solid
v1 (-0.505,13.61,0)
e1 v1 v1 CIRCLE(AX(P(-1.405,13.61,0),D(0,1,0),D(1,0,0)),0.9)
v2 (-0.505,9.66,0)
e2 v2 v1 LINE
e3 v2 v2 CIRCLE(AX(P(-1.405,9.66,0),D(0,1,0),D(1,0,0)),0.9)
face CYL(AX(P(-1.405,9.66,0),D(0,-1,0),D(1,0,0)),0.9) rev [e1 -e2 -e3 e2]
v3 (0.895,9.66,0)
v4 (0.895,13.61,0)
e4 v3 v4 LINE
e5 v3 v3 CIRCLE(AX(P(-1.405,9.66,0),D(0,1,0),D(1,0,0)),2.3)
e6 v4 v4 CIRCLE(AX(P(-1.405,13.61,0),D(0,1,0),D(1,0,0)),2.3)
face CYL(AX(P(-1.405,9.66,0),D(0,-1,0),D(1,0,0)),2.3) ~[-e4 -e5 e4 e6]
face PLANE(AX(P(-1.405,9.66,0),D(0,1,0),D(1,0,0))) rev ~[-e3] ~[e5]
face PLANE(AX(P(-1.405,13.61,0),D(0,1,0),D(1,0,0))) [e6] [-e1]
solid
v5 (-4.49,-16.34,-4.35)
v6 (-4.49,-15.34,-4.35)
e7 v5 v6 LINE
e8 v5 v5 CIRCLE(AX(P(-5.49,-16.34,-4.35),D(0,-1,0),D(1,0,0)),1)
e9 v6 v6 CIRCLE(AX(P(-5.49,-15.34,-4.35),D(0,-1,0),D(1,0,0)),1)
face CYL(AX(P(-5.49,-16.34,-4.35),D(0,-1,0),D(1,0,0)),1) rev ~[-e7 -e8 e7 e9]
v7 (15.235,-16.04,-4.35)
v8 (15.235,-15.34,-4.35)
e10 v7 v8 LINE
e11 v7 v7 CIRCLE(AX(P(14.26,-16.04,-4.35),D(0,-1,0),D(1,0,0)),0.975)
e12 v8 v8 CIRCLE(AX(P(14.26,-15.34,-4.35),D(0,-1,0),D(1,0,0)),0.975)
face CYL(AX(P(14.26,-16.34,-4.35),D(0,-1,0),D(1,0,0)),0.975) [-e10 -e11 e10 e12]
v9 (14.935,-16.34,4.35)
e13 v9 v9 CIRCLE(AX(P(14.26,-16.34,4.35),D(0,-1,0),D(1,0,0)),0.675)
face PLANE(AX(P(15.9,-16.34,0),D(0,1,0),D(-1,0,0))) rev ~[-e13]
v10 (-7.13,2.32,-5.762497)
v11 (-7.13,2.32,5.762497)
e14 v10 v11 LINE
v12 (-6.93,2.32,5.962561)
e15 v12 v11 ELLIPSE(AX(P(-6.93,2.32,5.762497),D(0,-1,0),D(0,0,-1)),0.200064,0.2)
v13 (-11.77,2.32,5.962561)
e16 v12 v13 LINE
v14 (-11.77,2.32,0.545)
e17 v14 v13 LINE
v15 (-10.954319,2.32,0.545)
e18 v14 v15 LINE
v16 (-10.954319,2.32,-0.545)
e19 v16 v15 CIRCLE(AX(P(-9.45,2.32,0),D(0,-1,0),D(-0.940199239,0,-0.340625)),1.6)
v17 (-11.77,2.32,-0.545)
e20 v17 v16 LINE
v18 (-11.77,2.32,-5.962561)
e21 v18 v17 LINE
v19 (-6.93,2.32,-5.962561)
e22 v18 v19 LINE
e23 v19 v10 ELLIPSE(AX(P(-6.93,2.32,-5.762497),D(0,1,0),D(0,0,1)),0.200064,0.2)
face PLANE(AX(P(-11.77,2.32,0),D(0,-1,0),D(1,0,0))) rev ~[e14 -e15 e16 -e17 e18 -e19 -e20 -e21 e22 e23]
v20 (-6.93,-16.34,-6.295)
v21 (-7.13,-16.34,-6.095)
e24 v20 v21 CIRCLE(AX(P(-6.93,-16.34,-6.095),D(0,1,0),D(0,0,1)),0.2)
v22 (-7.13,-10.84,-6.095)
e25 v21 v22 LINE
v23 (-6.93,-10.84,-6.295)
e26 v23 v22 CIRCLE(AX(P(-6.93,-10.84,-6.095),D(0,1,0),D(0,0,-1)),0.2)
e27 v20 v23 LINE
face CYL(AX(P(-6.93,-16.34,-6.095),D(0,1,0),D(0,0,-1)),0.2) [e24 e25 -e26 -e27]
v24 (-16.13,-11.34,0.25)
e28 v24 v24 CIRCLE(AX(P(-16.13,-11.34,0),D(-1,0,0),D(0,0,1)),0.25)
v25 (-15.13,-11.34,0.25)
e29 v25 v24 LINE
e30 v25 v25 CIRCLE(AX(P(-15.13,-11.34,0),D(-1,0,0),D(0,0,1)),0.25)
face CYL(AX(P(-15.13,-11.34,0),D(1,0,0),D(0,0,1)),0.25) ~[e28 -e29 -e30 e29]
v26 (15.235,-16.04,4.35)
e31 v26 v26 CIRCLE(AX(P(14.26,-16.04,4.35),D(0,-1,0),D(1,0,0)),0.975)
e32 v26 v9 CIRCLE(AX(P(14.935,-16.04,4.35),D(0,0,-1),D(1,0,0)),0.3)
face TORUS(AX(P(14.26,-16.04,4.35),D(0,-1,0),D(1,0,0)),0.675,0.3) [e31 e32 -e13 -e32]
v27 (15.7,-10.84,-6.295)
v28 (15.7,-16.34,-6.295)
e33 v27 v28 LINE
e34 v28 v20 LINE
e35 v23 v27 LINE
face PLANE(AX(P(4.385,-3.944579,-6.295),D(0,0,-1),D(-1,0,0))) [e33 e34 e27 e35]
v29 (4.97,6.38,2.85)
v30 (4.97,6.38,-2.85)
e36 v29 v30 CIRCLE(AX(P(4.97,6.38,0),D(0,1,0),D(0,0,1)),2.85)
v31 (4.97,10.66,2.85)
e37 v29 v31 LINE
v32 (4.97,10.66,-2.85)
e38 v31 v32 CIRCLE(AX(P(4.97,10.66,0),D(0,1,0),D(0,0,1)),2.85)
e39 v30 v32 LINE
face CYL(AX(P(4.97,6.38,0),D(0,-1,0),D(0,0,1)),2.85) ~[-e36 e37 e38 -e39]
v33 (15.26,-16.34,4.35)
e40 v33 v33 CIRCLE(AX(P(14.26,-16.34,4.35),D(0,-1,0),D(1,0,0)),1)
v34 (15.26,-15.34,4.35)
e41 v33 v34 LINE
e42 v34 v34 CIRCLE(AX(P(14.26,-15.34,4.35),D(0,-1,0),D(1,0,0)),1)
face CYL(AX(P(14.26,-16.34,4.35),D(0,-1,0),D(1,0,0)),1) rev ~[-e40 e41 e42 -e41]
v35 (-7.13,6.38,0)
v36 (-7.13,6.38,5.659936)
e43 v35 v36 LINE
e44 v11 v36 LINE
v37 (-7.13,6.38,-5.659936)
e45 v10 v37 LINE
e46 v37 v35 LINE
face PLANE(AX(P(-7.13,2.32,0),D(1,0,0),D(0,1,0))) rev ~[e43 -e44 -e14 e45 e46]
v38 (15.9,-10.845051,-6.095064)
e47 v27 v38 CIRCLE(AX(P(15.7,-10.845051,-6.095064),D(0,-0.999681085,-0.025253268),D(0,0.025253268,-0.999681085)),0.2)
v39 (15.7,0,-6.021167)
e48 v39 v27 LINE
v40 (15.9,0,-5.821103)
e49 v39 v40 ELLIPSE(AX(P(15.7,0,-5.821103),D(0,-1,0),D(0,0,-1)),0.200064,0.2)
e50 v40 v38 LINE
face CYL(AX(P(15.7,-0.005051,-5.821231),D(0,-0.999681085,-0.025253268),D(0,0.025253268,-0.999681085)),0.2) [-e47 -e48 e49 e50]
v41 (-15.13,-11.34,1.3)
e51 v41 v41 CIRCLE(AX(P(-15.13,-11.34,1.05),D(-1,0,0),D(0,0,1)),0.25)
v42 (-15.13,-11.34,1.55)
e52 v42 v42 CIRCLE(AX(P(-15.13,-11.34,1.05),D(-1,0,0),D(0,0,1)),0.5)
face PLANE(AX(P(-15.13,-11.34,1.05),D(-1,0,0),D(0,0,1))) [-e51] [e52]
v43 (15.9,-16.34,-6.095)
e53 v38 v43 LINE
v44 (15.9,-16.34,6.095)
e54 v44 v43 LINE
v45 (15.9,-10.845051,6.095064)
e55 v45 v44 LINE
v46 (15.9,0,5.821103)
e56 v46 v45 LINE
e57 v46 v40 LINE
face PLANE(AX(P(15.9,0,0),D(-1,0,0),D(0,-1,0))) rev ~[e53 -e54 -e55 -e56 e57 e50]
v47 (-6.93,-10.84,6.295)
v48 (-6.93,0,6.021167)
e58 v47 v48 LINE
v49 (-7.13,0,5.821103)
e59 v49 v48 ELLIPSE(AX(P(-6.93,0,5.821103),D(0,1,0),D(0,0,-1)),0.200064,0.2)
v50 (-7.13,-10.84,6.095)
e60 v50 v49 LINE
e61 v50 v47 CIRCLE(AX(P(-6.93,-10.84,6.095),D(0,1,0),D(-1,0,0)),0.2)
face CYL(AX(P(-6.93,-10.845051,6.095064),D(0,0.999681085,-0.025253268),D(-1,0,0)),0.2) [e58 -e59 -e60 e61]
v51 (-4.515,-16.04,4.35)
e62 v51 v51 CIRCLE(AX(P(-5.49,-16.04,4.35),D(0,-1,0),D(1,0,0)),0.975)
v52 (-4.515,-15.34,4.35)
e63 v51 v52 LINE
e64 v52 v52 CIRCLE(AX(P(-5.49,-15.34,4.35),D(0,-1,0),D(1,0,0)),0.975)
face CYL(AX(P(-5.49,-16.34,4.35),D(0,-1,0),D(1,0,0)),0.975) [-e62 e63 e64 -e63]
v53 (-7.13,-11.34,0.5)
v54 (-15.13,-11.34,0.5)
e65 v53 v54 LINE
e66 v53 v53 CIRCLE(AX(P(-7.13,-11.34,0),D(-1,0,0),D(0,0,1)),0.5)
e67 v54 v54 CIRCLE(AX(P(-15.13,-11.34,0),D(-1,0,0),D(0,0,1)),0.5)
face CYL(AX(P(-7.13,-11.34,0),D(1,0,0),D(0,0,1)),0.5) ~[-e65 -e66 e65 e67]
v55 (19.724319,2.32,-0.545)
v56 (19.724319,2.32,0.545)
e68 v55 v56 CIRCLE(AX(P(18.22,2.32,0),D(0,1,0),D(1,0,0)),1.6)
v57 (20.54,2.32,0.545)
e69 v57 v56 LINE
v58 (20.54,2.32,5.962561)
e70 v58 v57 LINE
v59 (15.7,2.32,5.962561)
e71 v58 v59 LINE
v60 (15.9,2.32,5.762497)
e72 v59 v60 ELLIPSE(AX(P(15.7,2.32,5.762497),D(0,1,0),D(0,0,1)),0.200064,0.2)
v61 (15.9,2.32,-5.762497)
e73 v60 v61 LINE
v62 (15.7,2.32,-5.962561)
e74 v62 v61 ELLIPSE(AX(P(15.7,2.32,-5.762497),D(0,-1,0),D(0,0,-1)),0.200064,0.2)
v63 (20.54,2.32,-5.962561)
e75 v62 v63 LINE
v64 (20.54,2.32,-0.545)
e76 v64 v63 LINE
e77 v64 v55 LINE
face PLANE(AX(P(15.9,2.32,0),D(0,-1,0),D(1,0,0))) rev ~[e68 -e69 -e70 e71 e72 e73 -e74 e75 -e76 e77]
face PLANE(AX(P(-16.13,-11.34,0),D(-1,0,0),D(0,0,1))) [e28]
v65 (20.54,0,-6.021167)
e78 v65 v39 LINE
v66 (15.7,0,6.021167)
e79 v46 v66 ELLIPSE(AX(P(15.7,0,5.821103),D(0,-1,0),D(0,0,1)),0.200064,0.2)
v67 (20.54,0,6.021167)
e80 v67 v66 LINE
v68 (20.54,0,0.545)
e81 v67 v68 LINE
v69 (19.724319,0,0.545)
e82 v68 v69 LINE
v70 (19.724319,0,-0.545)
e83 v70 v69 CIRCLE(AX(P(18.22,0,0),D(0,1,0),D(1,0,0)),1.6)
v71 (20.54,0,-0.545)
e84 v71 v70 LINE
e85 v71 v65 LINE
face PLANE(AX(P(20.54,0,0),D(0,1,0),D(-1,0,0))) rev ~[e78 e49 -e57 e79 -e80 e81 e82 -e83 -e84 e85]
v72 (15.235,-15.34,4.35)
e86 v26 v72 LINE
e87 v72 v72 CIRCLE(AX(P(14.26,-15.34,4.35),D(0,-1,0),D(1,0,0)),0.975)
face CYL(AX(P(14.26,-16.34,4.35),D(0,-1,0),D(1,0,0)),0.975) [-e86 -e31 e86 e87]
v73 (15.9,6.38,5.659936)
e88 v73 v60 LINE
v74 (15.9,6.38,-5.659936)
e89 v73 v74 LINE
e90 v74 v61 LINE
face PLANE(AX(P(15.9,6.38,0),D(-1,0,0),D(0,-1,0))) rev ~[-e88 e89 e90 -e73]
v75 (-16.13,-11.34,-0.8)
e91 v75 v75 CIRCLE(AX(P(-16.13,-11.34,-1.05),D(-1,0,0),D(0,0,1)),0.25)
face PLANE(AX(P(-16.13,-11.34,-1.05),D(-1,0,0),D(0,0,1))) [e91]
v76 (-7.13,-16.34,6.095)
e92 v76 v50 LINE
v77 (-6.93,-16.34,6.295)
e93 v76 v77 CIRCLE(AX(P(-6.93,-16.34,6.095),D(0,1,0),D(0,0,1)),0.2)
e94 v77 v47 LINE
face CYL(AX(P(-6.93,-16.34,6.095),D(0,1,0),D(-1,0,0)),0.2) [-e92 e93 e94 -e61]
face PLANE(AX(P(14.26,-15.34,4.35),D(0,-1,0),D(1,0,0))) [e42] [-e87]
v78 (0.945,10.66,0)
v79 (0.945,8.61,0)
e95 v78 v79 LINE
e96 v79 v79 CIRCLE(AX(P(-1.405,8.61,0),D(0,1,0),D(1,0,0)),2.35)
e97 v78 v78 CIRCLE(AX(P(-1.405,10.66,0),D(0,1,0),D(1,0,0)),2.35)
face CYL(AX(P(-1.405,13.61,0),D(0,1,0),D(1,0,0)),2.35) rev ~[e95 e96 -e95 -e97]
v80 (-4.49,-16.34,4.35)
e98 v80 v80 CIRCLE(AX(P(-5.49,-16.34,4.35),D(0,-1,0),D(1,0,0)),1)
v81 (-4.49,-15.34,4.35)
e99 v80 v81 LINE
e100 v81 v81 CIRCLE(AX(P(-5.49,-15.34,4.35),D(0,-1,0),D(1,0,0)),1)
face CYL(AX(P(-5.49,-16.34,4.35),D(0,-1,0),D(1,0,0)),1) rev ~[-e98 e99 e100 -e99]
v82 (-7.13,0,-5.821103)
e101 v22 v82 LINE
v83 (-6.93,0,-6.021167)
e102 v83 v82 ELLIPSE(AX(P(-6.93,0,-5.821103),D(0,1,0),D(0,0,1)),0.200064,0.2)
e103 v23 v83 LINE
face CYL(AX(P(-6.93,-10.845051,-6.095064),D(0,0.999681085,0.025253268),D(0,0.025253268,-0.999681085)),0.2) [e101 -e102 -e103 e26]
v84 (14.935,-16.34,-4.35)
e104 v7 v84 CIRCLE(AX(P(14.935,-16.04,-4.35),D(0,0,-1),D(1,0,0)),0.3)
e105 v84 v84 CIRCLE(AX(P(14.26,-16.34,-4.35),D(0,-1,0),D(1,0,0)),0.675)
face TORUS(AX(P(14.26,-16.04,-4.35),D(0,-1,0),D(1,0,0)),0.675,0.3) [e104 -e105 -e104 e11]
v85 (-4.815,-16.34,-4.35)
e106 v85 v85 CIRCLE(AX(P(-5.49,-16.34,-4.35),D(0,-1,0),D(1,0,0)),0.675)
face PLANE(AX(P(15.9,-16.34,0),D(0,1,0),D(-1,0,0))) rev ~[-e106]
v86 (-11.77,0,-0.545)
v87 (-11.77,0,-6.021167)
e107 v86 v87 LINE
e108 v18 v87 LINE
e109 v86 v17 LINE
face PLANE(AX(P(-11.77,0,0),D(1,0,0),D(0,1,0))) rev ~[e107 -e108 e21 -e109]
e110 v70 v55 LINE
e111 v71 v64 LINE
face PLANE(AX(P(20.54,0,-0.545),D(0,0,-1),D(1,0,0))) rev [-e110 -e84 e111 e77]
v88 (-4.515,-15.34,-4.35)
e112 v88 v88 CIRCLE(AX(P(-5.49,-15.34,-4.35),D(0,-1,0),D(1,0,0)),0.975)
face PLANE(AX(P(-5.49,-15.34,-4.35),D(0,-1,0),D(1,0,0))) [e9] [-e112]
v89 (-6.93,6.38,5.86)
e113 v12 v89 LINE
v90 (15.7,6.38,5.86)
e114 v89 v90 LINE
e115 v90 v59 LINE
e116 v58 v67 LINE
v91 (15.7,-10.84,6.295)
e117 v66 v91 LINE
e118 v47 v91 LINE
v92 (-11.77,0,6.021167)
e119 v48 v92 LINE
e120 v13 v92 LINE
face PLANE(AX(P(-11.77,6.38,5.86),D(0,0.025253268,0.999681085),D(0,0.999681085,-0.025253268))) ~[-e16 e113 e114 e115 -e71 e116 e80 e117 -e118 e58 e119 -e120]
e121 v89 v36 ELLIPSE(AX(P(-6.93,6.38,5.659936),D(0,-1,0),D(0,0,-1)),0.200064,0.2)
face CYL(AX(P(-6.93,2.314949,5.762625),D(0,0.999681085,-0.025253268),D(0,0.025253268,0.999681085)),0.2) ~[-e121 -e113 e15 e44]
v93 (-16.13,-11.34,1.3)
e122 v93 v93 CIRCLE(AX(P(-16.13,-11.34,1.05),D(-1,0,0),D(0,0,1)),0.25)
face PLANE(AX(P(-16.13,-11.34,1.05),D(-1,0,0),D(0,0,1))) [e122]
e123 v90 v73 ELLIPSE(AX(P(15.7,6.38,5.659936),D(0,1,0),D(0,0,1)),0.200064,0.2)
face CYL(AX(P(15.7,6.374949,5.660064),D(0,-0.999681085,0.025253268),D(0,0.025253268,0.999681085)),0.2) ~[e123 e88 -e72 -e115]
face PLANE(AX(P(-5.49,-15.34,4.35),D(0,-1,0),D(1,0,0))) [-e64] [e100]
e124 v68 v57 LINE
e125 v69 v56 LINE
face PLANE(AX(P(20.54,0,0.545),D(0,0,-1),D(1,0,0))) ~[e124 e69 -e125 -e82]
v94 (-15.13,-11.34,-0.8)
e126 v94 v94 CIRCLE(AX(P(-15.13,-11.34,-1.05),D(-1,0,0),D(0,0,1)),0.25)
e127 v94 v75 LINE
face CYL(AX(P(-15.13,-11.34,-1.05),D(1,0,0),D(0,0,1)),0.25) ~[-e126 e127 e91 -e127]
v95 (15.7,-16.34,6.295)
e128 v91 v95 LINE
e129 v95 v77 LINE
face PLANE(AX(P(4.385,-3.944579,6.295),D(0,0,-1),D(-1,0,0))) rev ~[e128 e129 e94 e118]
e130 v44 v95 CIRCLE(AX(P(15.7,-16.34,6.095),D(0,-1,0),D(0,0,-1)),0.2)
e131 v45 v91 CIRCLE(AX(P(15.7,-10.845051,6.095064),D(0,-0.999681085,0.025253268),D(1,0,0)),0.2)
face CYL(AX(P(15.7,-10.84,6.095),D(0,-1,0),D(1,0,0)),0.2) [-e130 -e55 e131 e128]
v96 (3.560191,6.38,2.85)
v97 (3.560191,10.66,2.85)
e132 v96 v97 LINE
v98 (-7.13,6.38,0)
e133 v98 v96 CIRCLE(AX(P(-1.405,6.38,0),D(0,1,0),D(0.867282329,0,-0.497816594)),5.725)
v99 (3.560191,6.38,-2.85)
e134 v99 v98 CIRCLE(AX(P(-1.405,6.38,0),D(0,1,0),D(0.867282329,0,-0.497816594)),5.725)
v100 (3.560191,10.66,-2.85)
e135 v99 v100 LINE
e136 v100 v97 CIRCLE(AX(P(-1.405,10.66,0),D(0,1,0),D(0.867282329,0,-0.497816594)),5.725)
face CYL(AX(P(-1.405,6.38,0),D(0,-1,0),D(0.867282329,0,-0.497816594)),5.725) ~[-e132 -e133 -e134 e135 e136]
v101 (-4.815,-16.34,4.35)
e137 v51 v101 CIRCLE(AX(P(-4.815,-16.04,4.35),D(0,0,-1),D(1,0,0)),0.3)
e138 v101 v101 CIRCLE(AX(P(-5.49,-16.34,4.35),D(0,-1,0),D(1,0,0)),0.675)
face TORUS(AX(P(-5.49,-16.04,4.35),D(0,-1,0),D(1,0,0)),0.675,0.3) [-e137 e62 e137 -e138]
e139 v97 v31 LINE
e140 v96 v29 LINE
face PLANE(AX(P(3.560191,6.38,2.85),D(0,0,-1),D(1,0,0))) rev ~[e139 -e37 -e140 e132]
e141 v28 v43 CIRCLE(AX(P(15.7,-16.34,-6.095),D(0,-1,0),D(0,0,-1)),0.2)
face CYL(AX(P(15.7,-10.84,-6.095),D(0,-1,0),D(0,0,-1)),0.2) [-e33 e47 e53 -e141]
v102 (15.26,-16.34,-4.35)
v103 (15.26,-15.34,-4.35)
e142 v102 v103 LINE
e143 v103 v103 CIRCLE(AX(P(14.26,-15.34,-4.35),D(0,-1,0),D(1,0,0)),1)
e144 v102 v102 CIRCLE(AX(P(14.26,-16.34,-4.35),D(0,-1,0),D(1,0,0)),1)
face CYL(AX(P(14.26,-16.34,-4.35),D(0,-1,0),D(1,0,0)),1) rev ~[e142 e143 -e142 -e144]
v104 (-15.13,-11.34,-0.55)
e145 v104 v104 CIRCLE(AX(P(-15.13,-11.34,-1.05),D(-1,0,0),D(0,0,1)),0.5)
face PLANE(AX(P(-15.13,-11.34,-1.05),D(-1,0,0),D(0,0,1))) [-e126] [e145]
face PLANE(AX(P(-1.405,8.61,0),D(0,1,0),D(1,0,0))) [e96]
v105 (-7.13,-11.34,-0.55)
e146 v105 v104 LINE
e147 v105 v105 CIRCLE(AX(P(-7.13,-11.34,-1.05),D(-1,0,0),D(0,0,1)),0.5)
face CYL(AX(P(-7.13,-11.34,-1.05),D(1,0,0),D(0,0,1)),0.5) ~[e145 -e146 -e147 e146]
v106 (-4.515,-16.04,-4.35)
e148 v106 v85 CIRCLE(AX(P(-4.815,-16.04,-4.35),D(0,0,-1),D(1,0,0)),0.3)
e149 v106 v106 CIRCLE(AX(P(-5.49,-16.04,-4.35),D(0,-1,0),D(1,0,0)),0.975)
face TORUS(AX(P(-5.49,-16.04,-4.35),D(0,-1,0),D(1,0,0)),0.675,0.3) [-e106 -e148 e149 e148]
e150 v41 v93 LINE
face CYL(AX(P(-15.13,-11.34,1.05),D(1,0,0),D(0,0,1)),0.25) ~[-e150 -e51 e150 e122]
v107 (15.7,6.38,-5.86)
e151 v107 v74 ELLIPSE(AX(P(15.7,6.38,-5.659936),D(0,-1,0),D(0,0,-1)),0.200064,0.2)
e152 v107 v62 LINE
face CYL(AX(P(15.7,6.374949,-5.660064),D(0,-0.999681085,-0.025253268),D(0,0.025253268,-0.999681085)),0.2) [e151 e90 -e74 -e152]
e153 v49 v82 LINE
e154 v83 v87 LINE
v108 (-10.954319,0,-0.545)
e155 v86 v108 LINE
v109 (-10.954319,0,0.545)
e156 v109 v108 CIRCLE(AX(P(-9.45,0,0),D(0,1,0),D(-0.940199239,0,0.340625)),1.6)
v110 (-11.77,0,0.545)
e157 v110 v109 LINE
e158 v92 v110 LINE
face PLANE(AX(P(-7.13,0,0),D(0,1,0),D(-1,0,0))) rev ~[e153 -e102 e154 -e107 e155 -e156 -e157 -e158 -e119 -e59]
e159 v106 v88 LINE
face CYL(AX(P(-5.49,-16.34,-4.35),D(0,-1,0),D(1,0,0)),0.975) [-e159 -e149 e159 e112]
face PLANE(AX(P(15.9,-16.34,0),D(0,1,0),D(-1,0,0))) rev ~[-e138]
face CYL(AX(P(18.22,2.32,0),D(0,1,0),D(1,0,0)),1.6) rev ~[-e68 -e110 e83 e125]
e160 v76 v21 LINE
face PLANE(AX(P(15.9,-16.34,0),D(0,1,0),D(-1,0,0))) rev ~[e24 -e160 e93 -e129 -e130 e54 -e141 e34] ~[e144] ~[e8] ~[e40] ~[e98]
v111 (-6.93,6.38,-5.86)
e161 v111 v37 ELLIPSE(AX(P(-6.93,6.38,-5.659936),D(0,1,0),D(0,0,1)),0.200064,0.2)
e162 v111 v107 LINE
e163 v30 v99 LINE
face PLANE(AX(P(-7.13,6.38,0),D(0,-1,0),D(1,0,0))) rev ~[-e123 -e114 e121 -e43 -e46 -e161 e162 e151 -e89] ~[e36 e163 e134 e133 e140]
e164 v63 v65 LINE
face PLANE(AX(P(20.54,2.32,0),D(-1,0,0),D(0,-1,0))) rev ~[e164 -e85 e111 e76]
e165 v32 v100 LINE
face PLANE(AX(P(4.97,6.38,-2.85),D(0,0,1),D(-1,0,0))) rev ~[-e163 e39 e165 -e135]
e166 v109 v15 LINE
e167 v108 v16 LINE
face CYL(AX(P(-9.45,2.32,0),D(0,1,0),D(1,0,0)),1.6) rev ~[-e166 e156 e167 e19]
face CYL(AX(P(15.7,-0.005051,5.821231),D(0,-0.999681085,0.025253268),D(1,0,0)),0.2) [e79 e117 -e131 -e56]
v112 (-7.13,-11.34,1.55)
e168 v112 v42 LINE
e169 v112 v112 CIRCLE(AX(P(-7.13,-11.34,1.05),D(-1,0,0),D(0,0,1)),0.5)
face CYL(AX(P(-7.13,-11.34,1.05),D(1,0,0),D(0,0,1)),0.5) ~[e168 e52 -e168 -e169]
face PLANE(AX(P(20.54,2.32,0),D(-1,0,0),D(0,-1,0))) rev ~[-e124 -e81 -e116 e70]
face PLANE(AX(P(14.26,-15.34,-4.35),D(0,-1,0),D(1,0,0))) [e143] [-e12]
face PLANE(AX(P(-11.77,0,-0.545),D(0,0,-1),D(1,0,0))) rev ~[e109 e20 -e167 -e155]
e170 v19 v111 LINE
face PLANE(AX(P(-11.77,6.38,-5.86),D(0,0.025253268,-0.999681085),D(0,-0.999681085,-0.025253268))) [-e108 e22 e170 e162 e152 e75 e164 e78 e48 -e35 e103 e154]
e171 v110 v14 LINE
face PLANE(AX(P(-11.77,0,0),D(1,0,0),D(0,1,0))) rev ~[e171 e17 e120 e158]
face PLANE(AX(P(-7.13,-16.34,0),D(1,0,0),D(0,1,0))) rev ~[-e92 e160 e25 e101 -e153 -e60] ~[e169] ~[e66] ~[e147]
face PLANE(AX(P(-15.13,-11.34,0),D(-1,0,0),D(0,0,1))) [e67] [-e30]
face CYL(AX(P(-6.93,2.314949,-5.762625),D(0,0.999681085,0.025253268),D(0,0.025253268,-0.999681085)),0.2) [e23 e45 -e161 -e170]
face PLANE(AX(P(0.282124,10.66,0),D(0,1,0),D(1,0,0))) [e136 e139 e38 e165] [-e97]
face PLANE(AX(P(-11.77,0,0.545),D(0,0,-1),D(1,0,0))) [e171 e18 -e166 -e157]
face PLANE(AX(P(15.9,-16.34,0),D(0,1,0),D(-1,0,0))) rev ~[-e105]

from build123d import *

# Parameters (mm, degrees)
BOSS_EXTRUDE1_DEPTH      = 6.295
BOSS_EXTRUDE2_DEPTH      = 4.28
CUT_EXTRUDE4_DEPTH       = 37.749948639
SKETCH4_R                = 0.975
SKETCH4_W                = 1.511544683
SKETCH4_H                = 1.09
CUT_EXTRUDE1_DEPTH       = 27.991002668
SKETCH5_R                = 1
SKETCH5_R_2              = 0.975
CUT_EXTRUDE2_DEPTH       = 1
SKETCH6_R                = 0.5
BOSS_EXTRUDE4_DEPTH      = 8
SKETCH7_R                = 0.25
BOSS_EXTRUDE5_DEPTH      = 1
FILLET1_R                = 0.3
FILLET3_R                = 0.2
BOSS_EXTRUDE6_DEPTH      = 2.95
BOSS_EXTRUDE6_DEPTH_BACK = 1
SKETCH12_R               = 2.3
SKETCH12_R_2             = 0.9
SKETCH13_R               = 2.35
CUT_EXTRUDE5_DEPTH       = 5
SKETCH15_R               = 1.6
CUT_EXTRUDE6_DEPTH       = 10
SKETCH16_R               = 1.6
CUT_EXTRUDE7_DEPTH       = 10


with BuildPart() as part:
    # Sketch1 → Boss-Extrude1 (new, symmetric)
    with BuildSketch(Plane.XY):
        Polygon((-7.13, 6.38), (15.9, 6.38), (15.9, 2.32), (20.54, 2.32), (20.54, 0), (15.9, 0), (15.9, -16.34), (-7.13, -16.34), (-7.13, 0), (-11.77, 0), (-11.77, 2.32), (-7.13, 2.32), align=None)
    extrude(amount=BOSS_EXTRUDE1_DEPTH, both=True)

    # Sketch2 → Boss-Extrude2 (add)
    with BuildSketch(Plane(origin=(0, 6.38, 0), x_dir=(1, 0, 0), z_dir=(0, 1, 0))):
        with BuildLine():
            Line((3.560191336, -2.85), (4.97, -2.85))
            ThreePointArc((4.97, -2.85), (7.82, 0), (4.97, 2.85))
            Line((4.97, 2.85), (3.560191336, 2.85))
            ThreePointArc((3.560191336, 2.85), (-7.13, 0), (3.560191336, -2.85))
        make_face()
    extrude(amount=BOSS_EXTRUDE2_DEPTH)

    # Sketch11 → Cut-Extrude4 (cut, through all)
    with BuildSketch(Plane.ZY.offset(11.77)):
        Polygon((-5.86, 6.38), (-6.295, -10.84), (-6.295, 6.38), align=None)
    cut_extrude4 = extrude(amount=-CUT_EXTRUDE4_DEPTH, mode=Mode.SUBTRACT)

    # Mirror1: Cut-Extrude4 across plane
    add(cut_extrude4.mirror(Plane.XY), mode=Mode.SUBTRACT)

    # Sketch4 → Cut-Extrude1 (cut, through all)
    with BuildSketch(Plane(origin=(0, 0, 0), x_dir=(1, 0, 0), z_dir=(0, 1, 0))):
        with Locations((-9.45, 0)):
            Circle(SKETCH4_R)
        with Locations((-11.014227659, 0)):
            Rectangle(SKETCH4_W, SKETCH4_H)
    cut_extrude1 = extrude(amount=CUT_EXTRUDE1_DEPTH, mode=Mode.SUBTRACT)

    # Mirror2: Cut-Extrude1 across plane
    add(cut_extrude1.mirror(Plane(origin=(4.385, -10.84, 6.295), x_dir=(0, 0, 1), z_dir=(-1, 0, 0))), mode=Mode.SUBTRACT)

    # Sketch5 → Cut-Extrude2 (cut)
    # profile 1 of 4: a face of its own
    with BuildSketch(Plane.XZ.offset(16.34)):
        with Locations((-5.49, 4.35)):
            Circle(SKETCH5_R)
        with Locations((-5.49, 4.35)):
            Circle(SKETCH5_R_2, mode=Mode.SUBTRACT)
    # profile 2 of 4: a face of its own
    with BuildSketch(Plane.XZ.offset(16.34)):
        with Locations((-5.49, -4.35)):
            Circle(SKETCH5_R)
        with Locations((-5.49, -4.35)):
            Circle(SKETCH5_R_2, mode=Mode.SUBTRACT)
    # profile 3 of 4: a face of its own
    with BuildSketch(Plane.XZ.offset(16.34)):
        with Locations((14.26, -4.35)):
            Circle(SKETCH5_R)
        with Locations((14.26, -4.35)):
            Circle(SKETCH5_R_2, mode=Mode.SUBTRACT)
    # profile 4 of 4: a face of its own
    with BuildSketch(Plane.XZ.offset(16.34)):
        with Locations((14.26, 4.35)):
            Circle(SKETCH5_R)
        with Locations((14.26, 4.35)):
            Circle(SKETCH5_R_2, mode=Mode.SUBTRACT)
    extrude(amount=-CUT_EXTRUDE2_DEPTH, mode=Mode.SUBTRACT)

    # Sketch6 → Boss-Extrude4 (add)
    with BuildSketch(Plane.ZY.offset(7.13)):
        with Locations((0, -11.34)):
            Circle(SKETCH6_R)
        with Locations((1.05, -11.34)):
            Circle(SKETCH6_R)
        with Locations((-1.05, -11.34)):
            Circle(SKETCH6_R)
    extrude(amount=BOSS_EXTRUDE4_DEPTH)

    # Sketch7 → Boss-Extrude5 (add)
    with BuildSketch(Plane.ZY.offset(15.13)):
        with Locations((0, -11.34)):
            Circle(SKETCH7_R)
        with Locations((1.05, -11.34)):
            Circle(SKETCH7_R)
        with Locations((-1.05, -11.34)):
            Circle(SKETCH7_R)
    extrude(amount=BOSS_EXTRUDE5_DEPTH)

    # Fillet1
    fillet1_edges = [part.edges().sort_by_distance(p)[0] for p in [
        (13.285, -16.34, -4.35),
        (13.285, -16.34, 4.35),
        (-6.465, -16.34, -4.35),
        (-6.465, -16.34, 4.35),
    ]]
    fillet(fillet1_edges, radius=FILLET1_R)

    # Fillet3
    fillet3_edges = [part.edges().sort_by_distance(p)[0] for p in [
        (15.9, -13.59, -6.295),
        (15.9, -13.59, 6.295),
        (-7.13, -13.59, -6.295),
        (-7.13, -13.59, 6.295),
        (-7.13, -5.42, 6.158083624),
        (-7.13, -5.42, -6.158083624),
        (15.9, -5.42, 6.158083624),
        (15.9, -5.42, -6.158083624),
        (15.9, 4.35, -5.911280488),
        (15.9, 4.35, 5.911280488),
        (-7.13, 4.35, -5.911280488),
        (-7.13, 4.35, 5.911280488),
    ]]
    fillet(fillet3_edges, radius=FILLET3_R)

    # Sketch13 → Cut-Extrude5 (cut)
    with BuildSketch(Plane(origin=(0, 13.61, 0), x_dir=(1, 0, 0), z_dir=(0, 1, 0))):
        with Locations((-1.405, 0)):
            Circle(SKETCH13_R)
    extrude(amount=-CUT_EXTRUDE5_DEPTH, mode=Mode.SUBTRACT)

    # Sketch15 → Cut-Extrude6 (cut)
    with BuildSketch(Plane(origin=(0, 2.32, 0), x_dir=(1, 0, 0), z_dir=(0, 1, 0))):
        with Locations((18.22, 0)):
            Circle(SKETCH15_R)
    extrude(amount=-CUT_EXTRUDE6_DEPTH, mode=Mode.SUBTRACT)

    # Sketch16 → Cut-Extrude7 (cut)
    with BuildSketch(Plane(origin=(0, 2.32, 0), x_dir=(1, 0, 0), z_dir=(0, 1, 0))):
        with Locations((-9.45, 0)):
            Circle(SKETCH16_R)
    extrude(amount=-CUT_EXTRUDE7_DEPTH, mode=Mode.SUBTRACT)


with BuildPart() as body_2:
    # Sketch12 → Boss-Extrude6 (new, two sides: drawn at the far end of the back side and taken through both)
    with BuildSketch(Plane(origin=(0, 10.66, 0), x_dir=(1, 0, 0), z_dir=(0, 1, 0)).offset(-BOSS_EXTRUDE6_DEPTH_BACK)):
        with Locations((-1.405, 0)):
            Circle(SKETCH12_R)
        with Locations((-1.405, 0)):
            Circle(SKETCH12_R_2, mode=Mode.SUBTRACT)
    extrude(amount=BOSS_EXTRUDE6_DEPTH + BOSS_EXTRUDE6_DEPTH_BACK)


solid = Compound([part.part, body_2.part])
